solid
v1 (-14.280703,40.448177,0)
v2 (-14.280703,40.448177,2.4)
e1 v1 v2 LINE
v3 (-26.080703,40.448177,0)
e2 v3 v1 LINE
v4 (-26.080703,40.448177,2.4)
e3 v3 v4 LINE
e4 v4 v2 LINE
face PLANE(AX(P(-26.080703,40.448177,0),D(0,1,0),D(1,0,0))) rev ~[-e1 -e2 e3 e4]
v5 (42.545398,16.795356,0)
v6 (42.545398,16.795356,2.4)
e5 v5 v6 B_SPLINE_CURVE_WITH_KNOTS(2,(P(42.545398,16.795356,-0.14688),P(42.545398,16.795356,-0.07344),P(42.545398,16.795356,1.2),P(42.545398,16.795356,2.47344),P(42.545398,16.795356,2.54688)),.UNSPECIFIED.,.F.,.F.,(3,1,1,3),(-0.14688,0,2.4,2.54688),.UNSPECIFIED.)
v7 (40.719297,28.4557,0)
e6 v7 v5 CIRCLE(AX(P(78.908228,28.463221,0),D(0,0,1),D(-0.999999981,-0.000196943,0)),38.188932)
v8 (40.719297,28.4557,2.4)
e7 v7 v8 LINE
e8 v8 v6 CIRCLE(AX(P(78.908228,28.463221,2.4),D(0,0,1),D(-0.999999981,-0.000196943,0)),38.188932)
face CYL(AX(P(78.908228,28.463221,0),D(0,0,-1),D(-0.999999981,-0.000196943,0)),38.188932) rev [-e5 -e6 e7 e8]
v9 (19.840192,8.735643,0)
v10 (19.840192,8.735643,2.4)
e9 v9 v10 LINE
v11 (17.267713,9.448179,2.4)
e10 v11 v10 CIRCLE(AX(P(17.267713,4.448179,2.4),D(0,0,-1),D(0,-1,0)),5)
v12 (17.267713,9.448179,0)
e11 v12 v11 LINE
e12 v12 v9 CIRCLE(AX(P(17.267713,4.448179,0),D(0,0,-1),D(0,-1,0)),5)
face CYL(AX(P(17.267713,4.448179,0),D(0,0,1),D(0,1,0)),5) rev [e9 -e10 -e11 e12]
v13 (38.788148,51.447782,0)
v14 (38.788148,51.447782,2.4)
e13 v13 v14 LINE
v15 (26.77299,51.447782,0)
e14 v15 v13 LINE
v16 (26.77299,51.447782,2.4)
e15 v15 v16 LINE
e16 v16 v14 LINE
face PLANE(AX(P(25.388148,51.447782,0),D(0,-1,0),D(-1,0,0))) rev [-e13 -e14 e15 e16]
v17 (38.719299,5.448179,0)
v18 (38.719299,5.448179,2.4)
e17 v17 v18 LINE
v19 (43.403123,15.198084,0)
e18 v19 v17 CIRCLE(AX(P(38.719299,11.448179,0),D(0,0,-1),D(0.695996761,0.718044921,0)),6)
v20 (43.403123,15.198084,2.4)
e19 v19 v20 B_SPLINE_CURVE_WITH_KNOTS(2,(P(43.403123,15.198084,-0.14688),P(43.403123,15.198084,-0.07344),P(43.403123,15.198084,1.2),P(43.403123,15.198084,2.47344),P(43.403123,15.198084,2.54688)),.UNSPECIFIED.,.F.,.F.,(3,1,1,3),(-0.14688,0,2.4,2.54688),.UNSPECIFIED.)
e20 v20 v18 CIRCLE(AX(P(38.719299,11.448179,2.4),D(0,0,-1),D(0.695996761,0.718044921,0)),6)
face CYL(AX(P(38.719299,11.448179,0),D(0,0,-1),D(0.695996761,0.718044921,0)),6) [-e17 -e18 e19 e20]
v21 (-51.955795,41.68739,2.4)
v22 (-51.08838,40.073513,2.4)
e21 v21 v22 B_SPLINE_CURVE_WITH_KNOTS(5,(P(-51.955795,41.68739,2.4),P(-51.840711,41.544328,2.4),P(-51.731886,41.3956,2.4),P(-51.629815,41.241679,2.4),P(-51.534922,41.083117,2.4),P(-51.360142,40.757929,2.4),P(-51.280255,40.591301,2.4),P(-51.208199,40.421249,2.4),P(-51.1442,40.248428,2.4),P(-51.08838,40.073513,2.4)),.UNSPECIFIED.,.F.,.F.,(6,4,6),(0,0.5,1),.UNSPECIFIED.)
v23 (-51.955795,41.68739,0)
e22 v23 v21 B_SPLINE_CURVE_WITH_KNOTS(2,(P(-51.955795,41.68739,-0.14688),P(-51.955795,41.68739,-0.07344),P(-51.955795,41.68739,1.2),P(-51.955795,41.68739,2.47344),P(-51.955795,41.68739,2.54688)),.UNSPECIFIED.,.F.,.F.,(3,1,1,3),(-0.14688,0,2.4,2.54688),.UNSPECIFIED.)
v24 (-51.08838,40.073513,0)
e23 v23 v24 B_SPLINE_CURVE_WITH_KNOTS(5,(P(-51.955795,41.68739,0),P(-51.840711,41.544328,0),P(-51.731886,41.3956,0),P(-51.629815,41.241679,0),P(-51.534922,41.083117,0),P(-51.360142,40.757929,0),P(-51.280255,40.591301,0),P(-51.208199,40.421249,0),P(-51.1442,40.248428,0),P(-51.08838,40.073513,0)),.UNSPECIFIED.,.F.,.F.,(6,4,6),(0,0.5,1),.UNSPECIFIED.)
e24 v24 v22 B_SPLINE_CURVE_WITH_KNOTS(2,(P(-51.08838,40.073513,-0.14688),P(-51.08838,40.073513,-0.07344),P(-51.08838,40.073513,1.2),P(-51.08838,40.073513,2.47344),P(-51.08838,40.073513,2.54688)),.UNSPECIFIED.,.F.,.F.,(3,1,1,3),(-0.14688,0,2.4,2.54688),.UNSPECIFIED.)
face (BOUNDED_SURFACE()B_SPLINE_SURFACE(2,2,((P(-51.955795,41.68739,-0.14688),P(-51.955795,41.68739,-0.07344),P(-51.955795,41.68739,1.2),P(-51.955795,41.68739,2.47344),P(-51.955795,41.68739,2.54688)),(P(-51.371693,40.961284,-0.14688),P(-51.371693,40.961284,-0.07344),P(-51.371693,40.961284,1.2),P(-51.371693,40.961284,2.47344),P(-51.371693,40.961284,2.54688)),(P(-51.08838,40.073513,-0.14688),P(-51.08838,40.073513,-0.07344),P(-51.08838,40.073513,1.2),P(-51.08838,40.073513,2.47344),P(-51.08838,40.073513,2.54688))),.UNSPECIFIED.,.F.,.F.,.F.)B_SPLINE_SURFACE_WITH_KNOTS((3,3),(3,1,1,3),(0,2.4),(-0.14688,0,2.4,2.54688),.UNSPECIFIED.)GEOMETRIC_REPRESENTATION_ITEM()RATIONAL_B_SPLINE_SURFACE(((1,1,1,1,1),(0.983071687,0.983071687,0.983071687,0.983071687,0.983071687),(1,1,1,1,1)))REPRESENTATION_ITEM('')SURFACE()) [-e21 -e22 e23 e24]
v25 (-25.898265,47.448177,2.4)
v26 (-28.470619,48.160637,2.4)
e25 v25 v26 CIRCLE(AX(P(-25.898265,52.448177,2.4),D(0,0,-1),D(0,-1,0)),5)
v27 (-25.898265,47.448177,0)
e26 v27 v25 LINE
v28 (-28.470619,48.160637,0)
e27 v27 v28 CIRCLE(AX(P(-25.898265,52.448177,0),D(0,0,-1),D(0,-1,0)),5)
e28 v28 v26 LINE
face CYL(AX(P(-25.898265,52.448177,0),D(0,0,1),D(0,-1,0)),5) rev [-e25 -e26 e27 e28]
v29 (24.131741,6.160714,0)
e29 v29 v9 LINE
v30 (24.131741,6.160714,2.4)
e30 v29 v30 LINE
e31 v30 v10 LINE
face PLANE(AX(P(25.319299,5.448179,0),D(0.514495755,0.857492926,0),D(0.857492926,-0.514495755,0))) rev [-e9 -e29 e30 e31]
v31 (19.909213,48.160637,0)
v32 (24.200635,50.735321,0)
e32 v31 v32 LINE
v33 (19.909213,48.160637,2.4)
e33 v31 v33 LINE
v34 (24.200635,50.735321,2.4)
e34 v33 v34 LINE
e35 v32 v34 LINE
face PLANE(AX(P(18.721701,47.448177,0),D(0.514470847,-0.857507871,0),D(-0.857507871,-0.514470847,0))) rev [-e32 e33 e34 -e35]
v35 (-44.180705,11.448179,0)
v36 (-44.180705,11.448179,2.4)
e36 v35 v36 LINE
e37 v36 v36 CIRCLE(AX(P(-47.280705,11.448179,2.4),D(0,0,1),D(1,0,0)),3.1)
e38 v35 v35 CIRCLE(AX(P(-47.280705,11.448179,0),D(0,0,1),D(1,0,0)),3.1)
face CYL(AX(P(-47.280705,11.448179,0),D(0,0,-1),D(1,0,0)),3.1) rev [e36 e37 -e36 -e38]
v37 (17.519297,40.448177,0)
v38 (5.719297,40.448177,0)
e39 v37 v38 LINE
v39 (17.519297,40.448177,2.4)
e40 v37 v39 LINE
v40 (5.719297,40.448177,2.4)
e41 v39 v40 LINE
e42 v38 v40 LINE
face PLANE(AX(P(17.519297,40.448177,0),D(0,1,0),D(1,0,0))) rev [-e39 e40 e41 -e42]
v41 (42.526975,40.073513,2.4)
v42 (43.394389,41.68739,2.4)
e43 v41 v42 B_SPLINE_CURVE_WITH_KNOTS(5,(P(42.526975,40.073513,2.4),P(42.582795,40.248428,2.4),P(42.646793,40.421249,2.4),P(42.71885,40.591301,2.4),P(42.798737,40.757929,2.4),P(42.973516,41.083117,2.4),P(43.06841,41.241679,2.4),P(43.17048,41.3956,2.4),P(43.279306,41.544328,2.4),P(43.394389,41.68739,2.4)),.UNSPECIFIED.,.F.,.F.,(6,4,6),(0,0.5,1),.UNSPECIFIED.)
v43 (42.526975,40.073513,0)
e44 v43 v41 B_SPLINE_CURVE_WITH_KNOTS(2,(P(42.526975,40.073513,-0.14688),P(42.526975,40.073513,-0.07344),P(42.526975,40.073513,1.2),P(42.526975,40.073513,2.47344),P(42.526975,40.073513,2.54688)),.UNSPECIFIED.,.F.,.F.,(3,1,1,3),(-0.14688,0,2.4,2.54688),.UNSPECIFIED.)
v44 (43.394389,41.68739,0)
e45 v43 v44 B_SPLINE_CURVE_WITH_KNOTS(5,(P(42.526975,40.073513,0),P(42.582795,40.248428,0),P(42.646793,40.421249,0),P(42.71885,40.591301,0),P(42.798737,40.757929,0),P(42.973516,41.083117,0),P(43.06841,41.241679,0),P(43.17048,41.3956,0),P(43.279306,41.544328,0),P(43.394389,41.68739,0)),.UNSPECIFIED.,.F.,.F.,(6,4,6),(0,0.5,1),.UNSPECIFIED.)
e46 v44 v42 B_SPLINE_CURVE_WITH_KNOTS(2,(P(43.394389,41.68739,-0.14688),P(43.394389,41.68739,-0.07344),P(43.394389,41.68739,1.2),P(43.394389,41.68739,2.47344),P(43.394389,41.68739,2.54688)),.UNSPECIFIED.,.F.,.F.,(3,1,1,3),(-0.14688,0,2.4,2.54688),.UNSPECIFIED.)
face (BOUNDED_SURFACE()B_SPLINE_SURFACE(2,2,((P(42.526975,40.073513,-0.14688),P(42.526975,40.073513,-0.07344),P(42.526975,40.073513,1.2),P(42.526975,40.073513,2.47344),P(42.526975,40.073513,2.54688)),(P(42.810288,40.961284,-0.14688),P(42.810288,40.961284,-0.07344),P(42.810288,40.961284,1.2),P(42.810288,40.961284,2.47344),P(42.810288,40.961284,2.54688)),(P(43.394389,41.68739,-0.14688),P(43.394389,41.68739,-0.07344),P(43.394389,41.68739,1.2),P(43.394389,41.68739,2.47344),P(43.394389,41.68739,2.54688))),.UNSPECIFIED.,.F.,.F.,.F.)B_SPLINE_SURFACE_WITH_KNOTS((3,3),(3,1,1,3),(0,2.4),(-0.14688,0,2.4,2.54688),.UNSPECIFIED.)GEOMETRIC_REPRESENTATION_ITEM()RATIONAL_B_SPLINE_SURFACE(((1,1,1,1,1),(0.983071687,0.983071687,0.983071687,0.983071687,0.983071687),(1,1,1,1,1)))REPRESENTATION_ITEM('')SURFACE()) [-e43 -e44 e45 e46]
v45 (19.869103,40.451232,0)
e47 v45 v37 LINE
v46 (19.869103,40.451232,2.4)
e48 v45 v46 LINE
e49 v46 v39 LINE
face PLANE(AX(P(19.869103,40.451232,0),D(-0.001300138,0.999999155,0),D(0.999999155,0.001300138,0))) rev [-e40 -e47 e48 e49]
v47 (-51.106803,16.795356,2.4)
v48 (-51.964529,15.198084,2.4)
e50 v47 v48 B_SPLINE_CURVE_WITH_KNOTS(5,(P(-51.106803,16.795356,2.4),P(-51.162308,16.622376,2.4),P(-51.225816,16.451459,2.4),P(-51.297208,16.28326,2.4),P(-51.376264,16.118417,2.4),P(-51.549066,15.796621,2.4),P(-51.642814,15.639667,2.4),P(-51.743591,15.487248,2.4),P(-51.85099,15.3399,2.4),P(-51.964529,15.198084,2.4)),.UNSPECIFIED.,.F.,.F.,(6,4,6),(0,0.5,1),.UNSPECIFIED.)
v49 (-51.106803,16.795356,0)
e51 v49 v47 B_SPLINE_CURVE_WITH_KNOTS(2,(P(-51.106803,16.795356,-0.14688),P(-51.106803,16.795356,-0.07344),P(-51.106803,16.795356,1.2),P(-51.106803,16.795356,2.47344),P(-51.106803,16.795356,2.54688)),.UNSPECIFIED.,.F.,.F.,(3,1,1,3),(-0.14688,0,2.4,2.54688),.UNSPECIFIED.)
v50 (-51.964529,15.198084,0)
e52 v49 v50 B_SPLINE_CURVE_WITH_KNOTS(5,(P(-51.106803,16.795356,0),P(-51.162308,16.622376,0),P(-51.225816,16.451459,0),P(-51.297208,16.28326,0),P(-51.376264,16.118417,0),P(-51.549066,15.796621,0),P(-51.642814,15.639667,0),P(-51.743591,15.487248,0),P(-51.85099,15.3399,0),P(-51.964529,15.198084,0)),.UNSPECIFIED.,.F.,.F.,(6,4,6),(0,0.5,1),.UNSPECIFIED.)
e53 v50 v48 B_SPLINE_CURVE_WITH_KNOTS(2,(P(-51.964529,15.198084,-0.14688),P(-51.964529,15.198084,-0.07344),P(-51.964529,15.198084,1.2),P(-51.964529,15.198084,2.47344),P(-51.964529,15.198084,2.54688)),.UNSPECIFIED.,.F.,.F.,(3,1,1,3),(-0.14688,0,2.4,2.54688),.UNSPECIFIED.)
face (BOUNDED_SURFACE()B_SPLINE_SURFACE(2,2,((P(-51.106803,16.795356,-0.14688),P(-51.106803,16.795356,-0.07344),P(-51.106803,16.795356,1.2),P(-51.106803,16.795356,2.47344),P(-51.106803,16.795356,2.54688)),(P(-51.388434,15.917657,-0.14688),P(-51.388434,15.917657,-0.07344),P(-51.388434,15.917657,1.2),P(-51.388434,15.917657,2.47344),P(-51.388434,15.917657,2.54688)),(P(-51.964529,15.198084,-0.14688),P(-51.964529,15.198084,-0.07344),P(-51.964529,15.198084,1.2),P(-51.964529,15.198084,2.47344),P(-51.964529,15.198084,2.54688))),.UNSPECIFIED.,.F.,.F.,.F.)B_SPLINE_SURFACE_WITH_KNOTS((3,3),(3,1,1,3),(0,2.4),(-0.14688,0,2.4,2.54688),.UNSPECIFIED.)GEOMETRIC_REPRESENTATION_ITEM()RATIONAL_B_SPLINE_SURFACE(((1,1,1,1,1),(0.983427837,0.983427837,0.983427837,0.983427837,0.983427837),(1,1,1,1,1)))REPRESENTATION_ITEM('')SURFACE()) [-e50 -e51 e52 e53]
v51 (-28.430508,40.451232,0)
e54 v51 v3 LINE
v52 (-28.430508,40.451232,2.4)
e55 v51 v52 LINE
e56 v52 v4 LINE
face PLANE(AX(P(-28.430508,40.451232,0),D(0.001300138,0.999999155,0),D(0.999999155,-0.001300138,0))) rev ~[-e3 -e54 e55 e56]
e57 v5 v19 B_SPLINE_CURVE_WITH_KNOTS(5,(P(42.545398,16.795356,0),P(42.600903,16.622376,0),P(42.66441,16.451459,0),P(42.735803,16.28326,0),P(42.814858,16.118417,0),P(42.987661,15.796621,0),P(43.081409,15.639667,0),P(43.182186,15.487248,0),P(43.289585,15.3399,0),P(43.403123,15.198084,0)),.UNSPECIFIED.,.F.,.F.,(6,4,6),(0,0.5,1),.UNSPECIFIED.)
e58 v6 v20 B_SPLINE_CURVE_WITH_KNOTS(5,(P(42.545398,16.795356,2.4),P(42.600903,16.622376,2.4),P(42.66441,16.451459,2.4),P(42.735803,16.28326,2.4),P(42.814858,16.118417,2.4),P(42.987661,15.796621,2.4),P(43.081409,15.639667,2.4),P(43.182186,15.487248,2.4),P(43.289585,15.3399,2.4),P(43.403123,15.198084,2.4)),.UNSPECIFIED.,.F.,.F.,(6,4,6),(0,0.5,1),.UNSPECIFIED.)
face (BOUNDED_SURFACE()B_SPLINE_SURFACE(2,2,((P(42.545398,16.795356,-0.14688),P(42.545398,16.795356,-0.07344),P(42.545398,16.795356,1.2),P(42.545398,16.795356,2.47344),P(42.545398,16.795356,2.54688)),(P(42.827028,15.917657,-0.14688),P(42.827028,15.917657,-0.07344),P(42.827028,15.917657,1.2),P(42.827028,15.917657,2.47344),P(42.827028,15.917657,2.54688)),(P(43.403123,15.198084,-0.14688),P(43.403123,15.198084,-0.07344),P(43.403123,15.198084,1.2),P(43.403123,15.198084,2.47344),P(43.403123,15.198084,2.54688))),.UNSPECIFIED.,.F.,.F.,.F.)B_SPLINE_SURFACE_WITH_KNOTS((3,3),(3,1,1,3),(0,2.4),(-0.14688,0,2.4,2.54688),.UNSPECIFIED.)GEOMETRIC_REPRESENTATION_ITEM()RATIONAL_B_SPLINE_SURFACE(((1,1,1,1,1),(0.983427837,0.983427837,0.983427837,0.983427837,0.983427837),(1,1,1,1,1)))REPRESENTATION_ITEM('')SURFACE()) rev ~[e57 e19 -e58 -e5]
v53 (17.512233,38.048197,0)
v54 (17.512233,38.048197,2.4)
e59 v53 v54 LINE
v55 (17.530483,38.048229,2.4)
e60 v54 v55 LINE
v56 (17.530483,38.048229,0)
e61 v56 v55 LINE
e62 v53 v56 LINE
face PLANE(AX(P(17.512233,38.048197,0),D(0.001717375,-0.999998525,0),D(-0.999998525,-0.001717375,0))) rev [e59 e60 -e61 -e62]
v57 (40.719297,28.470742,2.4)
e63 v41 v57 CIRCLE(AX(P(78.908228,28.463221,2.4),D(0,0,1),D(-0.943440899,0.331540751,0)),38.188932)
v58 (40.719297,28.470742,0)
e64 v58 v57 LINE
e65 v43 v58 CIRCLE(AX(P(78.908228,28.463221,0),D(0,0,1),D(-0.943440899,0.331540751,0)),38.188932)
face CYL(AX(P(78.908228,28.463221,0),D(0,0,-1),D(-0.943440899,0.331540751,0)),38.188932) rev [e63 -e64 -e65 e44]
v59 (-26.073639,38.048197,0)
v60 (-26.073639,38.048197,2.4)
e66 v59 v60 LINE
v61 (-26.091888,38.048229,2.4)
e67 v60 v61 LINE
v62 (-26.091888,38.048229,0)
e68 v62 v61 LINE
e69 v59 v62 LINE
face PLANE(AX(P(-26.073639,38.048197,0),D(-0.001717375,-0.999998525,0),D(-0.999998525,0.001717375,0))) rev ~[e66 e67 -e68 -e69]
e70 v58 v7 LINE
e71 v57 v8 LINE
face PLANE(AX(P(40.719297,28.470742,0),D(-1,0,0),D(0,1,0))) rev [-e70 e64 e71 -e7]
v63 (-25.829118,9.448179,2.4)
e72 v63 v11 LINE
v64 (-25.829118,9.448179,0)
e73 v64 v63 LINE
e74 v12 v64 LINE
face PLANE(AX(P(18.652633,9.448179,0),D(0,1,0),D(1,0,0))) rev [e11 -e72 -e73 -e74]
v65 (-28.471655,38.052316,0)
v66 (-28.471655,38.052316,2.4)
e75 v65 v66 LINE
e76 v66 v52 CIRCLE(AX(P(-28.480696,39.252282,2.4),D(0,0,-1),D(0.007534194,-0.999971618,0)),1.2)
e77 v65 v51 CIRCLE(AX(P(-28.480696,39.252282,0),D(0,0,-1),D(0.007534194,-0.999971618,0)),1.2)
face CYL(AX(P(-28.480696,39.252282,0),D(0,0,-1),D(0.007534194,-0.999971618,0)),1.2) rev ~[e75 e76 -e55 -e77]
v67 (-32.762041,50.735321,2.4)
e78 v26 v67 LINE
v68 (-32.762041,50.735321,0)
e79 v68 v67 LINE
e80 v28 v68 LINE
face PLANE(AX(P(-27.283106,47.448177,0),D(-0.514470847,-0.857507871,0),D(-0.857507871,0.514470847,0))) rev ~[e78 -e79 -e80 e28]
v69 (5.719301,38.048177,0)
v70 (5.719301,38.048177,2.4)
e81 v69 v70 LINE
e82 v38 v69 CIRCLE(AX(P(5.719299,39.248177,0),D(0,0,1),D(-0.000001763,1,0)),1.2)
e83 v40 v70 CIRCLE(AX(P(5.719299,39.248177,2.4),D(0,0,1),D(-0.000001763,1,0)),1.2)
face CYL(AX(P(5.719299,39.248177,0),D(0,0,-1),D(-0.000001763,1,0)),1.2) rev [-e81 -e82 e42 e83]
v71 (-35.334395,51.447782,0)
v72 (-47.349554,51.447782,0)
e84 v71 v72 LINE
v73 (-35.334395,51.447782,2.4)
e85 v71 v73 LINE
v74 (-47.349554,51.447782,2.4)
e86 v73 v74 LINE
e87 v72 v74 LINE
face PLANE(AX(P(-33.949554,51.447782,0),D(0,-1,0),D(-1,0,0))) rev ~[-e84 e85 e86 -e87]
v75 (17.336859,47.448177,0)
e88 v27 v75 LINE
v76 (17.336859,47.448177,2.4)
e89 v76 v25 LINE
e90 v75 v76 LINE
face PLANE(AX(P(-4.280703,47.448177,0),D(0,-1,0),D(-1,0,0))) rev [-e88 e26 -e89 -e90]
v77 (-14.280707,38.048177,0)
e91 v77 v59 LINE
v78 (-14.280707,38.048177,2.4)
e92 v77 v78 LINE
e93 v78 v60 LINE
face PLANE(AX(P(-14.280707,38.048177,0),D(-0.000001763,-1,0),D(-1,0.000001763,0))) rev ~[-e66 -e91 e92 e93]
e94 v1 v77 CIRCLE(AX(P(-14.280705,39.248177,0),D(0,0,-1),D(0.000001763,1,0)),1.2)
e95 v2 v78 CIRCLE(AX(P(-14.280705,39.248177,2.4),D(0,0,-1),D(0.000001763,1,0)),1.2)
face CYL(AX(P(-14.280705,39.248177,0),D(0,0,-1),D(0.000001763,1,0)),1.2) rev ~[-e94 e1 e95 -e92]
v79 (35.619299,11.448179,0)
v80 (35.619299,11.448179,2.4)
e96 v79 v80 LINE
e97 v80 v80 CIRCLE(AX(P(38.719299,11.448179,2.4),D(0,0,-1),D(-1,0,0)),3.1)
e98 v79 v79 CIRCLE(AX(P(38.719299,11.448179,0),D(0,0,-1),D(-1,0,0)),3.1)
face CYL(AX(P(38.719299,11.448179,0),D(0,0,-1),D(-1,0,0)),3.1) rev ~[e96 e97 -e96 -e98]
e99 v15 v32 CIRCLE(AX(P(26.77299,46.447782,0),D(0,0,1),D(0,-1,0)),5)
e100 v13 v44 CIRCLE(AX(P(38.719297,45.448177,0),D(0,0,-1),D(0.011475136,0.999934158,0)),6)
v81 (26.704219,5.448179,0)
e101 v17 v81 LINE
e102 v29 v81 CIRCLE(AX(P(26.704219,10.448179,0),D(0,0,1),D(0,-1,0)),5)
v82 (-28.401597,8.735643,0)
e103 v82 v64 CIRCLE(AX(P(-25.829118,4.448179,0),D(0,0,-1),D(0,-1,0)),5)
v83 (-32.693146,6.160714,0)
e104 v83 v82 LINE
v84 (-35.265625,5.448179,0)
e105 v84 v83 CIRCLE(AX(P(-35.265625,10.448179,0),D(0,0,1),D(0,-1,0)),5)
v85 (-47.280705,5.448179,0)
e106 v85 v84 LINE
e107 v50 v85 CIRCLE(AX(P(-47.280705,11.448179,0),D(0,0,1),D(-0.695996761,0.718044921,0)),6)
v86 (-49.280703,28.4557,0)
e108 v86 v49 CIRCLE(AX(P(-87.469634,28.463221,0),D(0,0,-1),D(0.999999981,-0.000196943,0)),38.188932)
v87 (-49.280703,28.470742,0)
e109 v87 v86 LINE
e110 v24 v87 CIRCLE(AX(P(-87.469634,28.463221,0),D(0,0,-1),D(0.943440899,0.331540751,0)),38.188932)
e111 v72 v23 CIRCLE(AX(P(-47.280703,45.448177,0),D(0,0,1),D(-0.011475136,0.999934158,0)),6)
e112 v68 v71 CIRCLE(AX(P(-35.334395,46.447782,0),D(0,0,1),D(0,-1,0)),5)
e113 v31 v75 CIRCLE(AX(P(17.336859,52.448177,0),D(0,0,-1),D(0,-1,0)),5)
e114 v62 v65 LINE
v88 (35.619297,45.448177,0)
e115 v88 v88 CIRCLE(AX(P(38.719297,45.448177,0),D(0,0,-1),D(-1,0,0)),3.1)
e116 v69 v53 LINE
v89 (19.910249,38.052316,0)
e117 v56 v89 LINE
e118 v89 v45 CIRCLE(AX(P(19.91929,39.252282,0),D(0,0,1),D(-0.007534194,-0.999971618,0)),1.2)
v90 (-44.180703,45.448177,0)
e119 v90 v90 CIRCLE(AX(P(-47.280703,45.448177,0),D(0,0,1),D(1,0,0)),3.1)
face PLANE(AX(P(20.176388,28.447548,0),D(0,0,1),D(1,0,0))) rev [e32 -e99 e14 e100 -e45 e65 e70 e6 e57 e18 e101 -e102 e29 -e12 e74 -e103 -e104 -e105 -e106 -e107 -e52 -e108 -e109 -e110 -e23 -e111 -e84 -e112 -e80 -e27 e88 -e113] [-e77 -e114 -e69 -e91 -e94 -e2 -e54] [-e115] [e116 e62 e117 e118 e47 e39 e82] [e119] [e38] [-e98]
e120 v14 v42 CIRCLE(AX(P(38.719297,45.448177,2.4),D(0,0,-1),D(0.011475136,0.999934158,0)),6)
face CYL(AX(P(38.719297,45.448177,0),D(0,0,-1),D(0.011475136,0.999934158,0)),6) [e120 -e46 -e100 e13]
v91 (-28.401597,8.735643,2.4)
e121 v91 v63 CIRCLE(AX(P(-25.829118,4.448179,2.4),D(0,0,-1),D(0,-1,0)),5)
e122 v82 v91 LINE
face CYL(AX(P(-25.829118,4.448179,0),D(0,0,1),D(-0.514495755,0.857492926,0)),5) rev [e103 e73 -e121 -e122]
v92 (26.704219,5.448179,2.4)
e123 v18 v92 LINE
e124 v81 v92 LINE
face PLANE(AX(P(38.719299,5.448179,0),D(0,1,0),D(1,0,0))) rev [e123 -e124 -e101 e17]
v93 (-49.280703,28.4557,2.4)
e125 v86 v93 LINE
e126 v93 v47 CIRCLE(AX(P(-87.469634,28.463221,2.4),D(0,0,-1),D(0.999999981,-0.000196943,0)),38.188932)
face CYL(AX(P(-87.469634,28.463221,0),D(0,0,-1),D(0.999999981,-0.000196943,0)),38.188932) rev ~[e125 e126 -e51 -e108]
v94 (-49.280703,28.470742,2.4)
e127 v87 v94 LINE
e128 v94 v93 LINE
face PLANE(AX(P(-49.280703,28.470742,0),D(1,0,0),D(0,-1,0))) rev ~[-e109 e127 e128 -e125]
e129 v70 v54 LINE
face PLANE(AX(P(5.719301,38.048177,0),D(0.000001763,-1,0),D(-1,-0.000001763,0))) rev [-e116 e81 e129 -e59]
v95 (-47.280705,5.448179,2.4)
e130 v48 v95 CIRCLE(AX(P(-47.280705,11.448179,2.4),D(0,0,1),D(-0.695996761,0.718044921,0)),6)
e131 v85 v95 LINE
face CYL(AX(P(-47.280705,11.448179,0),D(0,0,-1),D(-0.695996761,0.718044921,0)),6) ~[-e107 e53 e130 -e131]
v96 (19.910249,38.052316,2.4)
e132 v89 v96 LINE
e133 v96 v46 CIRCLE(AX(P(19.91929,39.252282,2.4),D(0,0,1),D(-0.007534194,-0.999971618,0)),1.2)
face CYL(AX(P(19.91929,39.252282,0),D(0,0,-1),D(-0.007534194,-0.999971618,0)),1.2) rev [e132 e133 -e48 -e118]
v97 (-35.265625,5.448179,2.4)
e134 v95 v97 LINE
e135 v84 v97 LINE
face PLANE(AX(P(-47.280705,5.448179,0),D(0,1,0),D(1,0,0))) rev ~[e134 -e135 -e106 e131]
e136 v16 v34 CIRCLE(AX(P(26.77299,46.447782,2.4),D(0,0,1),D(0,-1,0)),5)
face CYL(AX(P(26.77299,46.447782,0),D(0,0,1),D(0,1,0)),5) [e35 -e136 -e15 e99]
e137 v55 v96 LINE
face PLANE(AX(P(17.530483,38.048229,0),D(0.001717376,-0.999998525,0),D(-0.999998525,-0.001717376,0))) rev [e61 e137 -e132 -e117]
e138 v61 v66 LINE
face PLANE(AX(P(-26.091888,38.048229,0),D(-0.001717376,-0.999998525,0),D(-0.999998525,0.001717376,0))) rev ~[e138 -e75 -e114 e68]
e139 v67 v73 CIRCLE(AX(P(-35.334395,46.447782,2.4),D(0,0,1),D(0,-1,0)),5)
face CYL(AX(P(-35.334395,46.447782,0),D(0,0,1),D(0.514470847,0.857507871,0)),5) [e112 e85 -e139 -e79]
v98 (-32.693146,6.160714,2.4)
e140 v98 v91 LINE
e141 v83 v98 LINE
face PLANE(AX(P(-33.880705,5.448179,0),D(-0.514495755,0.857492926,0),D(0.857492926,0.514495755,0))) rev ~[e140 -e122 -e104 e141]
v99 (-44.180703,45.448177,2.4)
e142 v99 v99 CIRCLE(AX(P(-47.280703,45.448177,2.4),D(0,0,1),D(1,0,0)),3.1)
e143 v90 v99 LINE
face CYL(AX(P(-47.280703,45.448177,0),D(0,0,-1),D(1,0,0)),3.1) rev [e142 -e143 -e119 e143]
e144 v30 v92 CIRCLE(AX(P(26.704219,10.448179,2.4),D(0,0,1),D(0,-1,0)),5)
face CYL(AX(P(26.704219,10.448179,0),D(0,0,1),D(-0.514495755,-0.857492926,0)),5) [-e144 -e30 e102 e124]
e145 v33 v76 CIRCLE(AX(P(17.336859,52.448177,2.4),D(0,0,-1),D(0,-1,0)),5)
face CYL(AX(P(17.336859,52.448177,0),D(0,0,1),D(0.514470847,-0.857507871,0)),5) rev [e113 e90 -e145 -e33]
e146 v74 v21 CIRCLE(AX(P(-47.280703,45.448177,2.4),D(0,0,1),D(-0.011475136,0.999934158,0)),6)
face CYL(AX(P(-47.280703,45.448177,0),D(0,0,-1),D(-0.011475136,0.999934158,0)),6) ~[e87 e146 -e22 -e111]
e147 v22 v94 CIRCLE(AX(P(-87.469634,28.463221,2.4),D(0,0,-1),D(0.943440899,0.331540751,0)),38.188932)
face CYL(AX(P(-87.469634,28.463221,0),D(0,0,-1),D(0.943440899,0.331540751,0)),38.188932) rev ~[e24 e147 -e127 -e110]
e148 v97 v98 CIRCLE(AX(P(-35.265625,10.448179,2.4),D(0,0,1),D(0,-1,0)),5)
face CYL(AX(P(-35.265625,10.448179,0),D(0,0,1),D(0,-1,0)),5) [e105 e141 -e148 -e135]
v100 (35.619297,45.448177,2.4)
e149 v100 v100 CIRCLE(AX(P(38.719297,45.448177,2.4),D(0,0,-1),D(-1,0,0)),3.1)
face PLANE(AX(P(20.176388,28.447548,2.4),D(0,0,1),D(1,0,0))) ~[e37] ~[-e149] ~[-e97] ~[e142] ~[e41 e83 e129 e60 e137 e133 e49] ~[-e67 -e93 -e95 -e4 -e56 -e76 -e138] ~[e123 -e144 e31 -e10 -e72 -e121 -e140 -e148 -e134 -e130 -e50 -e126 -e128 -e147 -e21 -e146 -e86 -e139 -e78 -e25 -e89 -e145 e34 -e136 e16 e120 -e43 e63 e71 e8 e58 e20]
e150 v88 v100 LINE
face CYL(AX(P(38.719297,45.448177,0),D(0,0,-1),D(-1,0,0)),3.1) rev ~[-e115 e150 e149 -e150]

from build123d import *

# Parameters (mm, degrees)
F0_R     = 3.1
F1_DEPTH = 2.4
F3_R     = 5


with BuildPart() as f1:
    # F0 (on Top) → F1 (new body)
    with BuildSketch(Plane.XY):
        with BuildLine():
            ThreePointArc((-49.28070274, 28.4556998014), (-49.8292635669, 22.013644053), (-51.4566855291, 15.7564482751))
            ThreePointArc((-51.4566855291, 15.7564482751), (-52.8417128359, 9.1953601987), (-47.2807049618, 5.4481787499))
            Line((-47.2807049618, 5.4481787499), (-33.8807049618, 5.4481787499))
            Line((-33.8807049618, 5.4481787499), (-27.2140382951, 9.4481787499))
            Line((-27.2140382951, 9.4481787499), (-4.28070274, 9.4481787499))
            Line((-4.28070274, 9.4481787499), (-4.28070274, 11.4481787499))
            Line((-4.28070274, 11.4481787499), (-4.28070274, 45.4481766123))
            Line((-4.28070274, 45.4481766123), (-4.28070274, 47.4481766123))
            Line((-4.28070274, 47.4481766123), (-27.2831063748, 47.4481766123))
            Line((-27.2831063748, 47.4481766123), (-33.9495535553, 51.447781563))
            Line((-33.9495535553, 51.447781563), (-47.2118519247, 51.447781563))
            Line((-47.2118519247, 51.447781563), (-47.3495535553, 51.447781563))
            ThreePointArc((-47.3495535553, 51.447781563), (-52.8586646481, 47.6586835568), (-51.4406336464, 41.1244080183))
            ThreePointArc((-51.4406336464, 41.1244080183), (-49.8251900555, 34.8889789679), (-49.28070274, 28.4707419045))
            Line((-49.28070274, 28.4707419045), (-49.28070274, 28.4556998014))
        make_face()
        with Locations((-47.2807049618, 11.4481787499)):
            Circle(F0_R, mode=Mode.SUBTRACT)
        with Locations((-47.28070274, 45.4481766123)):
            Circle(F0_R, mode=Mode.SUBTRACT)
        with BuildLine():
            Line((-28.4305080615, 40.4512316858), (-26.08070274, 40.4481766123))
            Line((-26.08070274, 40.4481766123), (-14.28070274, 40.4481766123))
            ThreePointArc((-14.28070274, 40.4481766123), (-13.0807048557, 39.2481744965), (-14.2807069714, 38.0481766123))
            Line((-14.2807069714, 38.0481766123), (-26.0736386877, 38.0481974045))
            Line((-26.0736386877, 38.0481974045), (-26.0918883742, 38.0482287461))
            Line((-26.0918883742, 38.0482287461), (-28.4716546856, 38.0523157045))
            ThreePointArc((-28.4716546856, 38.0523157045), (-29.6805192393, 39.2728612272), (-28.4305080615, 40.4512316858))
        make_face(mode=Mode.SUBTRACT)
    extrude(amount=F1_DEPTH)

    # F2: F1 across face


with BuildPart() as f1_1:
    add(f1.part)
    add(f1.part.mirror(Plane(origin=(-4.28070274, 28.4481776811, 1.2), x_dir=(0, 1, 0), z_dir=(1, 0, 0))))

    # F3
    f3_edges = [f1_1.edges().sort_by_distance(p)[0] for p in [
        (-33.949554, 51.447782, 1.2),
        (-27.283106, 47.448177, 1.2),
        (18.721701, 47.448177, 1.2),
        (25.388148, 51.447782, 1.2),
        (-33.880705, 5.448179, 1.2),
        (-27.214038, 9.448179, 1.2),
        (18.652633, 9.448179, 1.2),
        (25.319299, 5.448179, 1.2),
        (-51.456686, 15.756448, 1.2),
        (-51.440634, 41.124408, 1.2),
        (42.89528, 15.756448, 1.2),
        (42.879228, 41.124408, 1.2),
    ]]
    fillet(f3_edges, radius=F3_R)


solid = f1_1.part
